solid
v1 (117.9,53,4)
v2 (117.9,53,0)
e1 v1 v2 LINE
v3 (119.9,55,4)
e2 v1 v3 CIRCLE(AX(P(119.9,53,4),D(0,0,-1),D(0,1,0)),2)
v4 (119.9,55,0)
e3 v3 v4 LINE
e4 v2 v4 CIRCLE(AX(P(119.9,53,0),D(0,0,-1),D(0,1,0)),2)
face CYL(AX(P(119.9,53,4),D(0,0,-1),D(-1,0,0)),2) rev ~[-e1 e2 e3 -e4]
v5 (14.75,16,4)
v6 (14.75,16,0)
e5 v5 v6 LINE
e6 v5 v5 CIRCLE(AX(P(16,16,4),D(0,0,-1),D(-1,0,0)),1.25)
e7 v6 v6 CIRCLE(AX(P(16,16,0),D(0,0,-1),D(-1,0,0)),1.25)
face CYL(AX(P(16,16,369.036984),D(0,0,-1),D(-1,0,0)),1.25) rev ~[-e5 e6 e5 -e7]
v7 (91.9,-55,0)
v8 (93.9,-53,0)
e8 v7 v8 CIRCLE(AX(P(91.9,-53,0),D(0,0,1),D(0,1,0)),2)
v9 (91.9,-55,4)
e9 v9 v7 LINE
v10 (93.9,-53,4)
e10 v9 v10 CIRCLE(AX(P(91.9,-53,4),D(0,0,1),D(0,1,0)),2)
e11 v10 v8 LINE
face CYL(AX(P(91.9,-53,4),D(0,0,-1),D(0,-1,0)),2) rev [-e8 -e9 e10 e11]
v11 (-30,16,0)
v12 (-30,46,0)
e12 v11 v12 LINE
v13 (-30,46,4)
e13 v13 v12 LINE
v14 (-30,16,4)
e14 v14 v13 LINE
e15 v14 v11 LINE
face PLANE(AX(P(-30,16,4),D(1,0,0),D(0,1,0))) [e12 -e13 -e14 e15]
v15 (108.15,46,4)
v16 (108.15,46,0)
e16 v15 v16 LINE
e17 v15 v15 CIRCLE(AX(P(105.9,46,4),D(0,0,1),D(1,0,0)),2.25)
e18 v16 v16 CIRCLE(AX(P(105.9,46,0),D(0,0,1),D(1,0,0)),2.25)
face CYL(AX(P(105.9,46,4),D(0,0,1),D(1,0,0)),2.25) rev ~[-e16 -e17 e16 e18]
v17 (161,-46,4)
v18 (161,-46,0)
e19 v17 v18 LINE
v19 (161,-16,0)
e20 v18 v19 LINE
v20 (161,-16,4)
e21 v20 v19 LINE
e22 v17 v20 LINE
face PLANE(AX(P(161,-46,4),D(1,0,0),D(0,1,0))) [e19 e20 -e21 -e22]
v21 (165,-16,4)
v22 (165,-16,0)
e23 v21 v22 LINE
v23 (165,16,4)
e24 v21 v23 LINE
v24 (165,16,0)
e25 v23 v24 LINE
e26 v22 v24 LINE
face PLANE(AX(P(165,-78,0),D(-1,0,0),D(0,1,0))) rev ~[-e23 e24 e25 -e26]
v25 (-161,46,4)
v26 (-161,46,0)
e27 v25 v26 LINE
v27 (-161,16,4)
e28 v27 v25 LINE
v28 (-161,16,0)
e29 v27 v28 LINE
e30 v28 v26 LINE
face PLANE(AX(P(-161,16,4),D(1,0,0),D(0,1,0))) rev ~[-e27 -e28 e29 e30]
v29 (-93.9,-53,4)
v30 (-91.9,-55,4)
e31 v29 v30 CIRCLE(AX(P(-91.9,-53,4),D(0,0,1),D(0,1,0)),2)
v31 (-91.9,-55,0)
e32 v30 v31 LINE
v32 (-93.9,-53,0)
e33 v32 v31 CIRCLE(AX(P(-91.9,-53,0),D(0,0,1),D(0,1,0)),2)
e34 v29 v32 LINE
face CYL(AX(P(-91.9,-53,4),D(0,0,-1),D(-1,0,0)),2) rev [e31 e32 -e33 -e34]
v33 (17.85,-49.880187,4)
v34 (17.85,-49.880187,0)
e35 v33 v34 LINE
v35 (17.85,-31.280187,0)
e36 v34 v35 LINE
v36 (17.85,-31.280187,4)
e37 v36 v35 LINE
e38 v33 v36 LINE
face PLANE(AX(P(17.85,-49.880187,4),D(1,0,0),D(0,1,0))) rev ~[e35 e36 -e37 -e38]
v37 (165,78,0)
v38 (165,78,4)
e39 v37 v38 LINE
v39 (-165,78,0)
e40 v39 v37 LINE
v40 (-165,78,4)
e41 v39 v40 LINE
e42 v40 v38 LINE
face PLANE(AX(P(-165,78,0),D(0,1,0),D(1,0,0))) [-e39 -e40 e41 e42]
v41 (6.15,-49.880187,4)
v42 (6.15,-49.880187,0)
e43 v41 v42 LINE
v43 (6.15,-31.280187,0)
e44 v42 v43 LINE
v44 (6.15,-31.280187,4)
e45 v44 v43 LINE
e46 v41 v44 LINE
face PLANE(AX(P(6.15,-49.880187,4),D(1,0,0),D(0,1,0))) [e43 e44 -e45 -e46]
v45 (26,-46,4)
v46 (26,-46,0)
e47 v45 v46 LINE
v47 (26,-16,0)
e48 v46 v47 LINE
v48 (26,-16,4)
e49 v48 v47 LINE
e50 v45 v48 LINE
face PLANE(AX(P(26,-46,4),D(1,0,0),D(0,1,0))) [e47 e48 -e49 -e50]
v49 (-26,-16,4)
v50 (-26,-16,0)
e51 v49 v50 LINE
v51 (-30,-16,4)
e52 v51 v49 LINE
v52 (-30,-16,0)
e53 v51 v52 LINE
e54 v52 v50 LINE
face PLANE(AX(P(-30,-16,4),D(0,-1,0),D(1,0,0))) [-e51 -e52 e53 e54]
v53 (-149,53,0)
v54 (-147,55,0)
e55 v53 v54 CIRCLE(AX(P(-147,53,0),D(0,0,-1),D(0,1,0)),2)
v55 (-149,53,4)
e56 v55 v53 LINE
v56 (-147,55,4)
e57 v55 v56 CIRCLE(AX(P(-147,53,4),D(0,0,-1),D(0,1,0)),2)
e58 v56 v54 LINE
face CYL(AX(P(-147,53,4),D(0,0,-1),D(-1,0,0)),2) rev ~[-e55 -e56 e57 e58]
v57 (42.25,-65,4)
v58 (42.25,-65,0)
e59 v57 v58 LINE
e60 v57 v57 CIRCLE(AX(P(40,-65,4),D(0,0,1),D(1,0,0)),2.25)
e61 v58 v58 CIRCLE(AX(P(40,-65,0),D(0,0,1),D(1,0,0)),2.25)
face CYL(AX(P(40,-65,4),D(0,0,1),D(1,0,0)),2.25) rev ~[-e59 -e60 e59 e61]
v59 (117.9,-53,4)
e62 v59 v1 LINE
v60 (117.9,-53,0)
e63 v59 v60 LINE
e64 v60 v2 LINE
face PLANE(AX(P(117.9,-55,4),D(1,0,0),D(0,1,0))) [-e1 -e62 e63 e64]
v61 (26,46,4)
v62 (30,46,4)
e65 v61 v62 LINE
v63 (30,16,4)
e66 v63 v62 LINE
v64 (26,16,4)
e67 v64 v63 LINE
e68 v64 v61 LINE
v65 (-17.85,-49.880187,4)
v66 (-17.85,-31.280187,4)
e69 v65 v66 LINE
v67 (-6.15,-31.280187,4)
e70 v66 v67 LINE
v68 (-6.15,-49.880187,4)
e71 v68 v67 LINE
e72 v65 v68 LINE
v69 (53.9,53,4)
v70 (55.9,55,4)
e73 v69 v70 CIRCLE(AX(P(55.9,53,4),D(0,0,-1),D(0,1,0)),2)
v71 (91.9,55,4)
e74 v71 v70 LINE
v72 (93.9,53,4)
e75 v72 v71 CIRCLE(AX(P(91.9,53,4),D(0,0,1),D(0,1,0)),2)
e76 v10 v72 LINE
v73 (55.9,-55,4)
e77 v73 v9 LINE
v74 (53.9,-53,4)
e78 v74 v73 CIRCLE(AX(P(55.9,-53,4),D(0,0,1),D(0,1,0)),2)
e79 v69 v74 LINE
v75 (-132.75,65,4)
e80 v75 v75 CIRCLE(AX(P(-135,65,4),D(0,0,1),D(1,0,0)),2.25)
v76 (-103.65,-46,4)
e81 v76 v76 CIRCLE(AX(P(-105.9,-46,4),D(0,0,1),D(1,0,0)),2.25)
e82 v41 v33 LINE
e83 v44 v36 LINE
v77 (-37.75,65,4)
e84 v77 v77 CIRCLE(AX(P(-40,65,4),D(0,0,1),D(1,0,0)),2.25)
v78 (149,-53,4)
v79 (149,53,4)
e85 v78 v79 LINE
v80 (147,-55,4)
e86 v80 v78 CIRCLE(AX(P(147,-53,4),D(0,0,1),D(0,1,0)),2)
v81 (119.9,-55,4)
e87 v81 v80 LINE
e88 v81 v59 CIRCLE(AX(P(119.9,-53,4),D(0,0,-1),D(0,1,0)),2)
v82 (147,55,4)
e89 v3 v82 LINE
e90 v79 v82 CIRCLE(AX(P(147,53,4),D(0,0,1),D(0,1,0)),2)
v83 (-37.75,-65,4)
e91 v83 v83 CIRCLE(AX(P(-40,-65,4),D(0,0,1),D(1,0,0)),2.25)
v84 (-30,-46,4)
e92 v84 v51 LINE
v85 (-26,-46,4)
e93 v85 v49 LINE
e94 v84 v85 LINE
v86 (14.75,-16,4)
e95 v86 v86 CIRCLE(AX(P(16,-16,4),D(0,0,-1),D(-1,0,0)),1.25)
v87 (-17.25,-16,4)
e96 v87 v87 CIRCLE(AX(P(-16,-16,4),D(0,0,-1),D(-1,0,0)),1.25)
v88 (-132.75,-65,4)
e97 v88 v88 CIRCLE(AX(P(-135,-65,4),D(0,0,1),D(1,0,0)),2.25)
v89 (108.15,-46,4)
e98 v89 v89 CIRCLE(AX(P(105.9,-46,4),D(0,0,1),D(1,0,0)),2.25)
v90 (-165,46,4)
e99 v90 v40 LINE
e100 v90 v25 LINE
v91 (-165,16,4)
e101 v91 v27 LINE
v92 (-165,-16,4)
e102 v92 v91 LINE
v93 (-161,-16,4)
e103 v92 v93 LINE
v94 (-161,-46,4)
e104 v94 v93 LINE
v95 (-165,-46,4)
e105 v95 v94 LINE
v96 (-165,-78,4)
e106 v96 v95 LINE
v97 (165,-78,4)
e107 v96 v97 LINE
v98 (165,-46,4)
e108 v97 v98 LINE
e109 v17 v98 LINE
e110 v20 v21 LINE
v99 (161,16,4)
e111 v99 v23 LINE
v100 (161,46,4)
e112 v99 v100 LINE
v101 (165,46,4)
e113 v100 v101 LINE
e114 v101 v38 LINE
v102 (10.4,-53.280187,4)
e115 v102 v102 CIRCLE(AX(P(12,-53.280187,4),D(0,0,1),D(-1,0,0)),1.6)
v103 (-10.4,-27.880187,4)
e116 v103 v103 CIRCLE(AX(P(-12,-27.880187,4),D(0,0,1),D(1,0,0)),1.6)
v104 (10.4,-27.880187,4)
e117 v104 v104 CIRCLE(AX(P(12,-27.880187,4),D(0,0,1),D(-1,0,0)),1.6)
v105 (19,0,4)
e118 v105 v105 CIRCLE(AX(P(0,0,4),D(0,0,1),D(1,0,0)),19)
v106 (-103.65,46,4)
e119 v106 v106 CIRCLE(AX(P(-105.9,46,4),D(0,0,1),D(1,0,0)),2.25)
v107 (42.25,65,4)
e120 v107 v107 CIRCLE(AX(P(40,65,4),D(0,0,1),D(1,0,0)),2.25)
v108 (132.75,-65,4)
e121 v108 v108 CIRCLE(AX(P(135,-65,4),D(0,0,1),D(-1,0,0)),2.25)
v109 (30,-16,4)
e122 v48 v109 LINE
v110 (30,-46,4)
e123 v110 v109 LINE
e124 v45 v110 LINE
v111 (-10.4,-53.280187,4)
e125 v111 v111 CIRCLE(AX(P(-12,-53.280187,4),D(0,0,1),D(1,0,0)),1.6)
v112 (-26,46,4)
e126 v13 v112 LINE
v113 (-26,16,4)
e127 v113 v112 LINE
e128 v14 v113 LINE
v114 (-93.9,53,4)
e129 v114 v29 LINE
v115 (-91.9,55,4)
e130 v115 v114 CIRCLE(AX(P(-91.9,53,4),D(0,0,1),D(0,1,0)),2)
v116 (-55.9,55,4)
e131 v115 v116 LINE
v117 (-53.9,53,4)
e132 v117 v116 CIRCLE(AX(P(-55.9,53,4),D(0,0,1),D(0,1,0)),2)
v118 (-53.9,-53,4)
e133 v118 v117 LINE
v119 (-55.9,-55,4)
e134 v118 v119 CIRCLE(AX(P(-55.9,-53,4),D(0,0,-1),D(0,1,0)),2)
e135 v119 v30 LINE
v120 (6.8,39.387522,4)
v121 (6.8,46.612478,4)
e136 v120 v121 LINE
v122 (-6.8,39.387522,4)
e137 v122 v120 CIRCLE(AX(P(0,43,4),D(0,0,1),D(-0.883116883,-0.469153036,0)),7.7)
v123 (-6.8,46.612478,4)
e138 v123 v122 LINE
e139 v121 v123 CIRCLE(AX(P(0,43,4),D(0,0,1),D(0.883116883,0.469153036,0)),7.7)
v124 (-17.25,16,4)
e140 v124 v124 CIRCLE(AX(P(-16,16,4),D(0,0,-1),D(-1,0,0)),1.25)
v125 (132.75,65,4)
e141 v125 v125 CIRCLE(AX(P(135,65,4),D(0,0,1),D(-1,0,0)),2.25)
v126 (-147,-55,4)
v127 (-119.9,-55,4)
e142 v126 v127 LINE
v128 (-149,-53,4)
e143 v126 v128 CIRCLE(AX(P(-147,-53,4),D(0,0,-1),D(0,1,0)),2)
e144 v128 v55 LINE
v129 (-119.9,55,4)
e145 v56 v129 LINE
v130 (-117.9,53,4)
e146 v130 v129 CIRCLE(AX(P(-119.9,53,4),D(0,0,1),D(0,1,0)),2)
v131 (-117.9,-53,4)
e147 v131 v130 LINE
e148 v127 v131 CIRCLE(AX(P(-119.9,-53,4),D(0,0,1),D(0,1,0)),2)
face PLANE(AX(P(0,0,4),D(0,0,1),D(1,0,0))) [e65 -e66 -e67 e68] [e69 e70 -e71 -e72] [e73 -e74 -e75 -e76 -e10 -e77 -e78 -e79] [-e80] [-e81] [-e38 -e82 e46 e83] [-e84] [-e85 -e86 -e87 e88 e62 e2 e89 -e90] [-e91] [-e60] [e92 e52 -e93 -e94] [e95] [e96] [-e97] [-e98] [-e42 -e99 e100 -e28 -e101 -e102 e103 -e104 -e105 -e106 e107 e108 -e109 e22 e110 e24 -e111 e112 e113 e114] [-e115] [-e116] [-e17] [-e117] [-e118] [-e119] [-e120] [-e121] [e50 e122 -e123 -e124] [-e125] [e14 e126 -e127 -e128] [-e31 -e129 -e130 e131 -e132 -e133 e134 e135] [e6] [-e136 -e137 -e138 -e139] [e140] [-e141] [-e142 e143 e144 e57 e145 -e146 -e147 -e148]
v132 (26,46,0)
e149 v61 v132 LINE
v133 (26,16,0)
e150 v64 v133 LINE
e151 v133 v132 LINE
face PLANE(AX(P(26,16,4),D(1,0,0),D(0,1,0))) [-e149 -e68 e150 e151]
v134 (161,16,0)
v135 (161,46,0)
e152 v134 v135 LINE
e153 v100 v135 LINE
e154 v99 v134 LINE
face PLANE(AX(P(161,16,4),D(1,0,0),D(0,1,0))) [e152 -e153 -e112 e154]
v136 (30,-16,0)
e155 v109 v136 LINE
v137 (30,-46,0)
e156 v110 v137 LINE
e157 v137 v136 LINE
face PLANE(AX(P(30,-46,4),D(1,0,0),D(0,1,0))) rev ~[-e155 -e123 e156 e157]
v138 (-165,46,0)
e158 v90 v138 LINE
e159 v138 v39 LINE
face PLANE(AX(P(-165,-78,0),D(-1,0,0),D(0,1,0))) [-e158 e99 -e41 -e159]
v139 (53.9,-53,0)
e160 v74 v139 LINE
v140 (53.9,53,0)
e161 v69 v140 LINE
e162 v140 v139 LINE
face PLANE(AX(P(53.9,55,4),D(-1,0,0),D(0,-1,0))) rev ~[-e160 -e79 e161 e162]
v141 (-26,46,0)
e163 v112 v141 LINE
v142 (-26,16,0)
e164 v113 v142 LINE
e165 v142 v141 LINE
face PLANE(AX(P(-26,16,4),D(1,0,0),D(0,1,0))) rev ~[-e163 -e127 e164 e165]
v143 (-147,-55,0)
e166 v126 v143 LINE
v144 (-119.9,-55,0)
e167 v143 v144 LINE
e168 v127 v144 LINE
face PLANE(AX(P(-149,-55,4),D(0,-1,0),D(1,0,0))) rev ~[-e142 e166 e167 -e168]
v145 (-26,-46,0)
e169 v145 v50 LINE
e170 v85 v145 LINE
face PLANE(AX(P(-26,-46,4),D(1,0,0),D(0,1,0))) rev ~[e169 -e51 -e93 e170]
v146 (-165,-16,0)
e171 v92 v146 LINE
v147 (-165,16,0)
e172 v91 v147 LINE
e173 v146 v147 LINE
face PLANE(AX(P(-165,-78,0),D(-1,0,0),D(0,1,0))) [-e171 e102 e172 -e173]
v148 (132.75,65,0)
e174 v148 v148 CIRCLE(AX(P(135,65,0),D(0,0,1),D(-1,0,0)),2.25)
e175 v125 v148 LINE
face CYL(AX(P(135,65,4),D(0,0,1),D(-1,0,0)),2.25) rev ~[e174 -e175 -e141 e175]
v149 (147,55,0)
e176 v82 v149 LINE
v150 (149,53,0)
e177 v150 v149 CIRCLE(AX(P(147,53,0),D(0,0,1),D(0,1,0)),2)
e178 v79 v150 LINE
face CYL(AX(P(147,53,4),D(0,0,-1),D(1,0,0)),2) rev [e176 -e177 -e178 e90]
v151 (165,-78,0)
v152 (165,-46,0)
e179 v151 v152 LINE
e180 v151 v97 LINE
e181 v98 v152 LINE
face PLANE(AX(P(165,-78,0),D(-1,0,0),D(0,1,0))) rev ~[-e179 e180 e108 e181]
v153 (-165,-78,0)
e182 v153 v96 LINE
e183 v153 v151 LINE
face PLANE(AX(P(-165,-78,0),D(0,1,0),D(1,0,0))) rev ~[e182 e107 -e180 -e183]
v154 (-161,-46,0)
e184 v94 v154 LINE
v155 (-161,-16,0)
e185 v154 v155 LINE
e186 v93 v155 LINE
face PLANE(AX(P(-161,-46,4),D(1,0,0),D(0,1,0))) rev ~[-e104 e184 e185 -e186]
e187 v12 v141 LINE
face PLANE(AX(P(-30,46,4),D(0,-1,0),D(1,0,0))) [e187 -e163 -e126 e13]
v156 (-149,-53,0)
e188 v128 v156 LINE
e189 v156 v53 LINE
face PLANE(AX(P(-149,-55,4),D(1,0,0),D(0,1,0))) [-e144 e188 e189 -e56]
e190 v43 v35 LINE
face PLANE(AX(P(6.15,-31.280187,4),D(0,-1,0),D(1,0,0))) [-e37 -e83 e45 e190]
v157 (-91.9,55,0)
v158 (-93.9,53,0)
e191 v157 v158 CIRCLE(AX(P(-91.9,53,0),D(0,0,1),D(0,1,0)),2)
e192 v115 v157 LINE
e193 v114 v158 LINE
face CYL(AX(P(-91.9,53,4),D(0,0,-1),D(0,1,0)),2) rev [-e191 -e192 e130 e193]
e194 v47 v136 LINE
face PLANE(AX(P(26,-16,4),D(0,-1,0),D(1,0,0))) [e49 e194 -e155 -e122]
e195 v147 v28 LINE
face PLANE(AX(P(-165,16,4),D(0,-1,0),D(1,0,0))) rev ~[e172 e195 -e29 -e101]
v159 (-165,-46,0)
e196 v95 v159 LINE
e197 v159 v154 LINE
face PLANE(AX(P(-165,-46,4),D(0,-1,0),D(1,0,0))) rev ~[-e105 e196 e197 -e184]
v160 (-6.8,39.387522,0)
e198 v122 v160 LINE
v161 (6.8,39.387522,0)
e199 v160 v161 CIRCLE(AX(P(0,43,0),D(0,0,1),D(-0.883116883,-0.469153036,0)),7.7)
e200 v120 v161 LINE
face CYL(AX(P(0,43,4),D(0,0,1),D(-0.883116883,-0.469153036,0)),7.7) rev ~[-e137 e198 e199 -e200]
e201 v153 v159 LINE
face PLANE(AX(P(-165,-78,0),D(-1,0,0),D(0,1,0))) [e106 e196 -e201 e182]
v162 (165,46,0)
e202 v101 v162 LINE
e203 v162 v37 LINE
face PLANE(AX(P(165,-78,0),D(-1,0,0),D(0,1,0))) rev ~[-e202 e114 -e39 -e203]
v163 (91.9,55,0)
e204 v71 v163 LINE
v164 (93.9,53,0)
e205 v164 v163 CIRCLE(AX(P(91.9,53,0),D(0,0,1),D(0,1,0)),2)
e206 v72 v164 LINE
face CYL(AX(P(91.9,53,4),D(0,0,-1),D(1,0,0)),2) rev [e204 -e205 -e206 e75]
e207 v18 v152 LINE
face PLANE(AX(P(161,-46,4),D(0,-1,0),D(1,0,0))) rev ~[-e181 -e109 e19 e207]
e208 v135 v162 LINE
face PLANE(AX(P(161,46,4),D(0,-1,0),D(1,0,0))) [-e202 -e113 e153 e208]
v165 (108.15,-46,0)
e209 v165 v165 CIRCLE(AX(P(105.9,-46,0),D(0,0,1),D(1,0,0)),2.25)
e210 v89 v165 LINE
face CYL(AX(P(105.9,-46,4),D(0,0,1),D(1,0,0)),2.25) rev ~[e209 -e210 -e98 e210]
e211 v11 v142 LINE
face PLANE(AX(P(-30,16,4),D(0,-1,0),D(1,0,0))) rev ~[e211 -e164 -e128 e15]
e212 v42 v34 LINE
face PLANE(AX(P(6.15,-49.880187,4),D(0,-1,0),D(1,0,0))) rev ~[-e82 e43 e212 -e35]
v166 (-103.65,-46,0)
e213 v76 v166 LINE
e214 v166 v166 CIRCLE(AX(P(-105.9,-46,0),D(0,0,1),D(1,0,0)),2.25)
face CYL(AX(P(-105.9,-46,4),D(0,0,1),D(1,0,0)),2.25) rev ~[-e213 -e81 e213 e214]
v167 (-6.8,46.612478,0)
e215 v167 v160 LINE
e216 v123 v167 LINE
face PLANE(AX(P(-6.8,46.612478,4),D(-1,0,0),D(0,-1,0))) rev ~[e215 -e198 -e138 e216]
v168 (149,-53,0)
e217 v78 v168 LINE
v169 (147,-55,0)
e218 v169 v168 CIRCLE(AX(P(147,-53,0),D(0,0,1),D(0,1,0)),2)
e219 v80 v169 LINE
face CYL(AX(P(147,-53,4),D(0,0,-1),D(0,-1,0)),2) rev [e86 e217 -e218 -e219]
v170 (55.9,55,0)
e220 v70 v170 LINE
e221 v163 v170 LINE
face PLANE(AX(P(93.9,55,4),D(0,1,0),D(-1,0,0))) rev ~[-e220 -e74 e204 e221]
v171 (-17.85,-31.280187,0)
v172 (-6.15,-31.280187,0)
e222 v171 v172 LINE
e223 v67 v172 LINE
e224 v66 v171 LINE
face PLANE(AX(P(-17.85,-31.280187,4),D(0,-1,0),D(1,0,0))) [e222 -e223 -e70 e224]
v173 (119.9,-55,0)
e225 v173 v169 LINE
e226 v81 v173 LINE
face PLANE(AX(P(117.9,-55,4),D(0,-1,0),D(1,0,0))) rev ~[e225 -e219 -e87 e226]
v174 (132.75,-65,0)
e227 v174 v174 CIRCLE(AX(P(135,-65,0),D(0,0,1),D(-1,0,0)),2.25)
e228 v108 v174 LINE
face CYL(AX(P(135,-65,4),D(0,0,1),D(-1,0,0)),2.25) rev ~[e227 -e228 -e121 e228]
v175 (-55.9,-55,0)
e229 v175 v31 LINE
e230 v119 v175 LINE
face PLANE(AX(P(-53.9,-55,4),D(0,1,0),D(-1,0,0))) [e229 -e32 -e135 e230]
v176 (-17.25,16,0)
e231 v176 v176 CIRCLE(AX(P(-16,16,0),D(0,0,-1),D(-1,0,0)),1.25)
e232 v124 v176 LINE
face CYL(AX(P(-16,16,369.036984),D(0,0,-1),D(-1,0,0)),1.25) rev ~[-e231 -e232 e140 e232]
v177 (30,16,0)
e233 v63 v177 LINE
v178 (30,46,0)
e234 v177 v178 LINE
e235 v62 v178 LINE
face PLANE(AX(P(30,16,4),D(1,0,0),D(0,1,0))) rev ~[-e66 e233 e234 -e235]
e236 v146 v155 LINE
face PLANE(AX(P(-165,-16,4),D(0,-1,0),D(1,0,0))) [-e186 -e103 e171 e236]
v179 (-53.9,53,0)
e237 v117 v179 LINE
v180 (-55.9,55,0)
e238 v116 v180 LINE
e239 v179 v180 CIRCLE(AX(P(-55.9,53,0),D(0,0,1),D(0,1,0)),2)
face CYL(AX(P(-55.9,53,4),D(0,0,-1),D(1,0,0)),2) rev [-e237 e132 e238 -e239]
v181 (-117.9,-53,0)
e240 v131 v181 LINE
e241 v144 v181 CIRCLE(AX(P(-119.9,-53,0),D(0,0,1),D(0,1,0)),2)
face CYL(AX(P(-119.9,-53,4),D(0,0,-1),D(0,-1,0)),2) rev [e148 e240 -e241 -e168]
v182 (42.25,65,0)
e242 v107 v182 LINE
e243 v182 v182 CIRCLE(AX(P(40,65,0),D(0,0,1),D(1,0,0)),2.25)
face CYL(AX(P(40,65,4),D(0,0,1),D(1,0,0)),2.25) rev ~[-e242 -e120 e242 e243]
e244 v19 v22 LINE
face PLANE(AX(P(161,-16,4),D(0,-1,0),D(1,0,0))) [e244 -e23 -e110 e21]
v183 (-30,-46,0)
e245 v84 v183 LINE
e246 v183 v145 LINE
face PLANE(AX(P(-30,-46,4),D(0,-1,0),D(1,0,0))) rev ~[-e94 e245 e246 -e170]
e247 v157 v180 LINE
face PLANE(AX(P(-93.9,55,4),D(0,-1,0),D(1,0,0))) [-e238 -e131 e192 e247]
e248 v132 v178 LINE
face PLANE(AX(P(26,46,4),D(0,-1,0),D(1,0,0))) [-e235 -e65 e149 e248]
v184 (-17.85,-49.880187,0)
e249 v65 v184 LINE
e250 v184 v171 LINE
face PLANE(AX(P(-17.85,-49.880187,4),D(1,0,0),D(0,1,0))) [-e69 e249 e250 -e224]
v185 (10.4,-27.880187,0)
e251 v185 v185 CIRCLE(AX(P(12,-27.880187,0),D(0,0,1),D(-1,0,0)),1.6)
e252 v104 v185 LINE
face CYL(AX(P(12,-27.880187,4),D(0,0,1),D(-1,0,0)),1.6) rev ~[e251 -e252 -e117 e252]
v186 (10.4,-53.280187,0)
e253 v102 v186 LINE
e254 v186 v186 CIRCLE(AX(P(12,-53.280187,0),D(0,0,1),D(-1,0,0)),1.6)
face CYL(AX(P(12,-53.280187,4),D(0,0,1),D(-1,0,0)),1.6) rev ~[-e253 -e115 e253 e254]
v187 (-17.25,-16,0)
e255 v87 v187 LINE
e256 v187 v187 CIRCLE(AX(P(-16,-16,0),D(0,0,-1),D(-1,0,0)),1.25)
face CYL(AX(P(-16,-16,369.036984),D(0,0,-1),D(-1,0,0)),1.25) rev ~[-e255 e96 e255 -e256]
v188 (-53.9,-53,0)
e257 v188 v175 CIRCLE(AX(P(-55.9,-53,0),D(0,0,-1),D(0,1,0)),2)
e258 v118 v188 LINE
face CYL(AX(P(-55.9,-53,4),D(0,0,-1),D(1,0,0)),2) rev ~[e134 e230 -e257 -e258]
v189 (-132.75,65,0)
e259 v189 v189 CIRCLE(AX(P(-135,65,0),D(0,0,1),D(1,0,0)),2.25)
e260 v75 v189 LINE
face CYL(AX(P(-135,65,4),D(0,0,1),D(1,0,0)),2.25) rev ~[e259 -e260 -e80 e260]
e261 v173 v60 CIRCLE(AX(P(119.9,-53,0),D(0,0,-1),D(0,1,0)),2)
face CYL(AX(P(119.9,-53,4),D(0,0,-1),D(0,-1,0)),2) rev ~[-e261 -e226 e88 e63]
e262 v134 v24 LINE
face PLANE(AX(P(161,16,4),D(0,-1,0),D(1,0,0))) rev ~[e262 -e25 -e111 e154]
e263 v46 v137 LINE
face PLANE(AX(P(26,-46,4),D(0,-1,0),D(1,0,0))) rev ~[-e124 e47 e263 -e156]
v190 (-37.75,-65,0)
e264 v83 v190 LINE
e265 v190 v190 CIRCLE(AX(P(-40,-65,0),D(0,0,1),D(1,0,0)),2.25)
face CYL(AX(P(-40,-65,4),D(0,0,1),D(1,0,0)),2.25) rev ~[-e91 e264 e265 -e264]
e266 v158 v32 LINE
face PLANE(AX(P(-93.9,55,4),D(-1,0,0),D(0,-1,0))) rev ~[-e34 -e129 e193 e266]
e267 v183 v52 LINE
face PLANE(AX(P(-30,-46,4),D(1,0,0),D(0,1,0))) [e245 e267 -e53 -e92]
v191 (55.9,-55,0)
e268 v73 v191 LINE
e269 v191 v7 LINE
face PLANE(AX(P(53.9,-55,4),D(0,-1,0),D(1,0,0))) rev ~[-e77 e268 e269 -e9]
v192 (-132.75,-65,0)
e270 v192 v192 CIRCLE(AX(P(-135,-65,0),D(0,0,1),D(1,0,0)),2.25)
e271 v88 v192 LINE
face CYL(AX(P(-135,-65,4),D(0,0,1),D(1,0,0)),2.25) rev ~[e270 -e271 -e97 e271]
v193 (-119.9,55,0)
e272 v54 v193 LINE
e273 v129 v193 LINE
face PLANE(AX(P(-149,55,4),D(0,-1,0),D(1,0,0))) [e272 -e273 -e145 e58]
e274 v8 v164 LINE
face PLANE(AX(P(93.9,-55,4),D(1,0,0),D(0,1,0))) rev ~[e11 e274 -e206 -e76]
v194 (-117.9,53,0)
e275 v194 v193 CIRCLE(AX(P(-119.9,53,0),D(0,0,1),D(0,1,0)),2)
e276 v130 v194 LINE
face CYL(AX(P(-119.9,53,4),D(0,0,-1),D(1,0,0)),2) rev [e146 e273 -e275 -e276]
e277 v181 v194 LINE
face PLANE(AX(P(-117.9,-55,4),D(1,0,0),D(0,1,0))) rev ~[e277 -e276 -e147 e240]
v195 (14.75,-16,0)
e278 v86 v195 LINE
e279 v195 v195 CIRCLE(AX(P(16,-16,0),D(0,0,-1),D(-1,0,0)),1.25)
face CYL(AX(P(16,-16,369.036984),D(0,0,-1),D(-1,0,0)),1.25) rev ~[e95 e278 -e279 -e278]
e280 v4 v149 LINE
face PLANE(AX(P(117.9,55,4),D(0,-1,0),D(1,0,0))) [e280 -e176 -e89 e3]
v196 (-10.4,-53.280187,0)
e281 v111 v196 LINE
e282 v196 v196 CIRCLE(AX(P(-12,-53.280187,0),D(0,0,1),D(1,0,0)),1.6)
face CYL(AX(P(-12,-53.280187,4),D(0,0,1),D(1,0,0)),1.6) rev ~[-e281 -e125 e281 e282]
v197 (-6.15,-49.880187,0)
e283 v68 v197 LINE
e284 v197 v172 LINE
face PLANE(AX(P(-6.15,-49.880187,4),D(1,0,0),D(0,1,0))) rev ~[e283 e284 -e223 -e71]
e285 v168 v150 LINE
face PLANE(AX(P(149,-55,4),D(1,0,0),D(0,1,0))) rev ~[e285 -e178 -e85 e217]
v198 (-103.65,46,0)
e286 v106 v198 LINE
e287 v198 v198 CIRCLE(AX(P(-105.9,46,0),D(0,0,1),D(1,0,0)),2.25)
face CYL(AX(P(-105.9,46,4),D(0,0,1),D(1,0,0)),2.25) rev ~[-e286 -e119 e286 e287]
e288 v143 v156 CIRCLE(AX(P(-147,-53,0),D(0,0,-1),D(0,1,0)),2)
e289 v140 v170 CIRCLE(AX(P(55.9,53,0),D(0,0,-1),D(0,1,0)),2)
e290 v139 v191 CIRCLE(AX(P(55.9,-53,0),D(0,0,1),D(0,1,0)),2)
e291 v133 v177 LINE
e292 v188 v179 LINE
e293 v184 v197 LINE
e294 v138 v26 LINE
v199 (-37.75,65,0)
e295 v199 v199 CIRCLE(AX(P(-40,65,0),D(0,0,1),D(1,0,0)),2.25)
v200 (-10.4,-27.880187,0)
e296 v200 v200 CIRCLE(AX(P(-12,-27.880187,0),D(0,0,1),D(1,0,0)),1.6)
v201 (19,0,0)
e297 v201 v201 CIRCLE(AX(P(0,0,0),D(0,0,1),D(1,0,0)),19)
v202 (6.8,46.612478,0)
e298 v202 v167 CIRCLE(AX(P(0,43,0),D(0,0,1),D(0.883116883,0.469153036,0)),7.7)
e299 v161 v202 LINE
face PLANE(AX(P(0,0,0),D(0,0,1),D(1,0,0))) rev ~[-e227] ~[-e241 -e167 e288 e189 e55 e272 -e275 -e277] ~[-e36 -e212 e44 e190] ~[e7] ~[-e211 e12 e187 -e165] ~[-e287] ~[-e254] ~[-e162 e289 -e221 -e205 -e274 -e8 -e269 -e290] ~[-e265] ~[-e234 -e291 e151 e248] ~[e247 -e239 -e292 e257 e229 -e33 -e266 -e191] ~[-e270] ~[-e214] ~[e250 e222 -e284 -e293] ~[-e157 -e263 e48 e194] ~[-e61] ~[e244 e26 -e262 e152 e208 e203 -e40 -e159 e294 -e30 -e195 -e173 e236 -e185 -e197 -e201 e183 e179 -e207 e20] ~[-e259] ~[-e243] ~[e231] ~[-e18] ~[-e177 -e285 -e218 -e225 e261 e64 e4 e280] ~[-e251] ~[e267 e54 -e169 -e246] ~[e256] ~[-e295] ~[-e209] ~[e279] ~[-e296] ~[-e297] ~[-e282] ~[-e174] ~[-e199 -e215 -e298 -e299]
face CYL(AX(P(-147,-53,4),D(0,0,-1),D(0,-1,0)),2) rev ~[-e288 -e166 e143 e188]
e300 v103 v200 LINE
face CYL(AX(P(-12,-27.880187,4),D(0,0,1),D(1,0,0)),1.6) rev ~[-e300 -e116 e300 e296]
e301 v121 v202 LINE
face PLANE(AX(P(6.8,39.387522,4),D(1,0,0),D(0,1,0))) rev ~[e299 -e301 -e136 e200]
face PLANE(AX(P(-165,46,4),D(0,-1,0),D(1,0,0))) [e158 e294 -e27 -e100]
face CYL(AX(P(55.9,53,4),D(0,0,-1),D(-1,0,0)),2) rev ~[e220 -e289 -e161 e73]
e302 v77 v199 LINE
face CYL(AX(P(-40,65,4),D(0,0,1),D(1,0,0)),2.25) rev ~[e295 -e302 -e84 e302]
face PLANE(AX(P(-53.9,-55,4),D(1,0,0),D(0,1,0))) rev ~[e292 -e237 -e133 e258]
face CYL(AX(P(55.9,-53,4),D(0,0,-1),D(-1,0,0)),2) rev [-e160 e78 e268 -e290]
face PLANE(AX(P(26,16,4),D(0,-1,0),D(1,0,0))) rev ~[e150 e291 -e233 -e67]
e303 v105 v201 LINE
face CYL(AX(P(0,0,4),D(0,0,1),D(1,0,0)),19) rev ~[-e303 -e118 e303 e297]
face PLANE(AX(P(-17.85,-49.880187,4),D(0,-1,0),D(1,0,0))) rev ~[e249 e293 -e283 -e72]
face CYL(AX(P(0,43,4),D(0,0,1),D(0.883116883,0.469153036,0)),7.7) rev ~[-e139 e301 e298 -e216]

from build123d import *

# Parameters (mm, degrees)
SKIZZE1_W                       = 330
SKIZZE1_H                       = 156
AUFSATZ_LINEAR_AUSTRAGEN1_DEPTH = 4
SKIZZE2_R                       = 2.25
SKIZZE2_W                       = 31.1
SKIZZE2_H                       = 110
SCHNITT_LINEAR_AUSTRAGEN1_DEPTH = 183.551362635
M3_GEWINDEBOHRUNG1_D            = 2.5
SKIZZE5_R                       = 19
SCHNITT_LINEAR_AUSTRAGEN2_DEPTH = 183.551362635
VERRUNDUNG1_R                   = 2
SKIZZE7_R                       = 1.6
SKIZZE7_W                       = 11.7
SKIZZE7_H                       = 18.6
SCHNITT_LINEAR_AUSTRAGEN3_DEPTH = 183.551362635
SCHNITT_LINEAR_AUSTRAGEN4_DEPTH = 183.551362635
VERRUNDUNG2_R                   = 2
SKIZZE10_W                      = 4
SKIZZE10_H                      = 30
SCHNITT_LINEAR_AUSTRAGEN5_DEPTH = 183.551362635


with BuildPart() as part:
    # Skizze1 → Aufsatz-Linear austragen1 (new body)
    with BuildSketch(Plane.XY):
        Rectangle(SKIZZE1_W, SKIZZE1_H)
    extrude(amount=AUFSATZ_LINEAR_AUSTRAGEN1_DEPTH)

    # Skizze2 → Schnitt-Linear austragen1 (cut, through all)
    with BuildSketch(Plane.XY.offset(4)):
        with Locations((-105.9, 46)):
            Circle(SKIZZE2_R)
        with Locations((-105.9, -46)):
            Circle(SKIZZE2_R)
        with Locations((105.9, -46)):
            Circle(SKIZZE2_R)
        with Locations((105.9, 46)):
            Circle(SKIZZE2_R)
        with Locations((-40, 65)):
            Circle(SKIZZE2_R)
        with Locations((40, 65)):
            Circle(SKIZZE2_R)
        with Locations((-40, -65)):
            Circle(SKIZZE2_R)
        with Locations((40, -65)):
            Circle(SKIZZE2_R)
        with Locations((-135, -65)):
            Circle(SKIZZE2_R)
        with Locations((-135, 65)):
            Circle(SKIZZE2_R)
        with Locations(Location((135, -65, 0), (0, 0, 180))):
            Circle(SKIZZE2_R)
        with Locations(Location((135, 65, 0), (0, 0, 180))):
            Circle(SKIZZE2_R)
        with Locations((133.45, 0)):
            Rectangle(SKIZZE2_W, SKIZZE2_H)
        with Locations((-133.45, 0)):
            Rectangle(SKIZZE2_W, SKIZZE2_H)
    extrude(amount=-SCHNITT_LINEAR_AUSTRAGEN1_DEPTH, mode=Mode.SUBTRACT)

    # M3 Gewindebohrung1 (through all)
    with Locations(Plane.XY.offset(4)):
        with Locations((16, -16), (0, 0), (16, 16), (-16, -16), (-16, 16)):
            Hole(M3_GEWINDEBOHRUNG1_D / 2)

    # Skizze5 → Schnitt-Linear austragen2 (cut, through all)
    with BuildSketch(Plane.XY.offset(4)):
        Circle(SKIZZE5_R)
    extrude(amount=-SCHNITT_LINEAR_AUSTRAGEN2_DEPTH, mode=Mode.SUBTRACT)

    # Verrundung1
    verrundung1_edges = [part.edges().sort_by_distance(p)[0] for p in [
        (149, 55, 2),
        (149, -55, 2),
        (117.9, -55, 2),
        (117.9, 55, 2),
        (-149, -55, 2),
        (-149, 55, 2),
        (-117.9, 55, 2),
        (-117.9, -55, 2),
    ]]
    fillet(verrundung1_edges, radius=VERRUNDUNG1_R)

    # Skizze7 → Schnitt-Linear austragen3 (cut, through all)
    with BuildSketch(Plane.XY.offset(4)):
        with Locations((-12, -27.880186595)):
            Circle(SKIZZE7_R)
        with Locations((-12, -53.280186595)):
            Circle(SKIZZE7_R)
        with Locations(Location((12, -53.280186595, 0), (0, 0, 180))):
            Circle(SKIZZE7_R)
        with Locations(Location((12, -27.880186595, 0), (0, 0, 180))):
            Circle(SKIZZE7_R)
        with BuildLine():
            Line((-6.8, 46.612478374), (-6.8, 39.387521626))
            ThreePointArc((-6.8, 39.387521626), (0, 35.3), (6.8, 39.387521626))
            Line((6.8, 39.387521626), (6.8, 46.612478374))
            ThreePointArc((6.8, 46.612478374), (0, 50.7), (-6.8, 46.612478374))
        make_face()
        with Locations((-12, -40.580186595)):
            Rectangle(SKIZZE7_W, SKIZZE7_H)
        with Locations((12, -40.580186595)):
            Rectangle(SKIZZE7_W, SKIZZE7_H)
    extrude(amount=-SCHNITT_LINEAR_AUSTRAGEN3_DEPTH, mode=Mode.SUBTRACT)

    # Skizze9 → Schnitt-Linear austragen4 (cut, through all)
    with BuildSketch(Plane.XY.offset(4)):
        Polygon((53.9, 55), (53.9, 7), (53.9, -7), (53.9, -55), (93.9, -55), (93.9, -7), (93.9, 7), (93.9, 55), align=None)
        Polygon((53.9, 55), (53.9, 7), (53.9, -7), (53.9, -55), (93.9, -55), (93.9, -7), (93.9, 7), (93.9, 55), align=None)
        Polygon((-53.9, 7), (-53.9, -7), (-53.9, -55), (-93.9, -55), (-93.9, -7), (-93.9, 7), (-93.9, 55), (-53.9, 55), align=None)
    extrude(amount=-SCHNITT_LINEAR_AUSTRAGEN4_DEPTH, mode=Mode.SUBTRACT)

    # Verrundung2
    verrundung2_edges = [part.edges().sort_by_distance(p)[0] for p in [
        (93.9, 55, 2),
        (93.9, -55, 2),
        (53.9, -55, 2),
        (53.9, 55, 2),
        (-53.9, 55, 2),
        (-53.9, -55, 2),
        (-93.9, -55, 2),
        (-93.9, 55, 2),
    ]]
    fillet(verrundung2_edges, radius=VERRUNDUNG2_R)

    # Skizze10 → Schnitt-Linear austragen5 (cut, through all)
    with BuildSketch(Plane.XY.offset(4)):
        with Locations((-28, 31)):
            Rectangle(SKIZZE10_W, SKIZZE10_H)
        with Locations((-28, -31)):
            Rectangle(SKIZZE10_W, SKIZZE10_H)
        with Locations((28, -31)):
            Rectangle(SKIZZE10_W, SKIZZE10_H)
        with Locations((28, 31)):
            Rectangle(SKIZZE10_W, SKIZZE10_H)
        with Locations((-163, -31)):
            Rectangle(SKIZZE10_W, SKIZZE10_H)
        with Locations((-163, 31)):
            Rectangle(SKIZZE10_W, SKIZZE10_H)
        with Locations((163, -31)):
            Rectangle(SKIZZE10_W, SKIZZE10_H)
        with Locations((163, 31)):
            Rectangle(SKIZZE10_W, SKIZZE10_H)
    extrude(amount=-SCHNITT_LINEAR_AUSTRAGEN5_DEPTH, mode=Mode.SUBTRACT)


solid = part.part
